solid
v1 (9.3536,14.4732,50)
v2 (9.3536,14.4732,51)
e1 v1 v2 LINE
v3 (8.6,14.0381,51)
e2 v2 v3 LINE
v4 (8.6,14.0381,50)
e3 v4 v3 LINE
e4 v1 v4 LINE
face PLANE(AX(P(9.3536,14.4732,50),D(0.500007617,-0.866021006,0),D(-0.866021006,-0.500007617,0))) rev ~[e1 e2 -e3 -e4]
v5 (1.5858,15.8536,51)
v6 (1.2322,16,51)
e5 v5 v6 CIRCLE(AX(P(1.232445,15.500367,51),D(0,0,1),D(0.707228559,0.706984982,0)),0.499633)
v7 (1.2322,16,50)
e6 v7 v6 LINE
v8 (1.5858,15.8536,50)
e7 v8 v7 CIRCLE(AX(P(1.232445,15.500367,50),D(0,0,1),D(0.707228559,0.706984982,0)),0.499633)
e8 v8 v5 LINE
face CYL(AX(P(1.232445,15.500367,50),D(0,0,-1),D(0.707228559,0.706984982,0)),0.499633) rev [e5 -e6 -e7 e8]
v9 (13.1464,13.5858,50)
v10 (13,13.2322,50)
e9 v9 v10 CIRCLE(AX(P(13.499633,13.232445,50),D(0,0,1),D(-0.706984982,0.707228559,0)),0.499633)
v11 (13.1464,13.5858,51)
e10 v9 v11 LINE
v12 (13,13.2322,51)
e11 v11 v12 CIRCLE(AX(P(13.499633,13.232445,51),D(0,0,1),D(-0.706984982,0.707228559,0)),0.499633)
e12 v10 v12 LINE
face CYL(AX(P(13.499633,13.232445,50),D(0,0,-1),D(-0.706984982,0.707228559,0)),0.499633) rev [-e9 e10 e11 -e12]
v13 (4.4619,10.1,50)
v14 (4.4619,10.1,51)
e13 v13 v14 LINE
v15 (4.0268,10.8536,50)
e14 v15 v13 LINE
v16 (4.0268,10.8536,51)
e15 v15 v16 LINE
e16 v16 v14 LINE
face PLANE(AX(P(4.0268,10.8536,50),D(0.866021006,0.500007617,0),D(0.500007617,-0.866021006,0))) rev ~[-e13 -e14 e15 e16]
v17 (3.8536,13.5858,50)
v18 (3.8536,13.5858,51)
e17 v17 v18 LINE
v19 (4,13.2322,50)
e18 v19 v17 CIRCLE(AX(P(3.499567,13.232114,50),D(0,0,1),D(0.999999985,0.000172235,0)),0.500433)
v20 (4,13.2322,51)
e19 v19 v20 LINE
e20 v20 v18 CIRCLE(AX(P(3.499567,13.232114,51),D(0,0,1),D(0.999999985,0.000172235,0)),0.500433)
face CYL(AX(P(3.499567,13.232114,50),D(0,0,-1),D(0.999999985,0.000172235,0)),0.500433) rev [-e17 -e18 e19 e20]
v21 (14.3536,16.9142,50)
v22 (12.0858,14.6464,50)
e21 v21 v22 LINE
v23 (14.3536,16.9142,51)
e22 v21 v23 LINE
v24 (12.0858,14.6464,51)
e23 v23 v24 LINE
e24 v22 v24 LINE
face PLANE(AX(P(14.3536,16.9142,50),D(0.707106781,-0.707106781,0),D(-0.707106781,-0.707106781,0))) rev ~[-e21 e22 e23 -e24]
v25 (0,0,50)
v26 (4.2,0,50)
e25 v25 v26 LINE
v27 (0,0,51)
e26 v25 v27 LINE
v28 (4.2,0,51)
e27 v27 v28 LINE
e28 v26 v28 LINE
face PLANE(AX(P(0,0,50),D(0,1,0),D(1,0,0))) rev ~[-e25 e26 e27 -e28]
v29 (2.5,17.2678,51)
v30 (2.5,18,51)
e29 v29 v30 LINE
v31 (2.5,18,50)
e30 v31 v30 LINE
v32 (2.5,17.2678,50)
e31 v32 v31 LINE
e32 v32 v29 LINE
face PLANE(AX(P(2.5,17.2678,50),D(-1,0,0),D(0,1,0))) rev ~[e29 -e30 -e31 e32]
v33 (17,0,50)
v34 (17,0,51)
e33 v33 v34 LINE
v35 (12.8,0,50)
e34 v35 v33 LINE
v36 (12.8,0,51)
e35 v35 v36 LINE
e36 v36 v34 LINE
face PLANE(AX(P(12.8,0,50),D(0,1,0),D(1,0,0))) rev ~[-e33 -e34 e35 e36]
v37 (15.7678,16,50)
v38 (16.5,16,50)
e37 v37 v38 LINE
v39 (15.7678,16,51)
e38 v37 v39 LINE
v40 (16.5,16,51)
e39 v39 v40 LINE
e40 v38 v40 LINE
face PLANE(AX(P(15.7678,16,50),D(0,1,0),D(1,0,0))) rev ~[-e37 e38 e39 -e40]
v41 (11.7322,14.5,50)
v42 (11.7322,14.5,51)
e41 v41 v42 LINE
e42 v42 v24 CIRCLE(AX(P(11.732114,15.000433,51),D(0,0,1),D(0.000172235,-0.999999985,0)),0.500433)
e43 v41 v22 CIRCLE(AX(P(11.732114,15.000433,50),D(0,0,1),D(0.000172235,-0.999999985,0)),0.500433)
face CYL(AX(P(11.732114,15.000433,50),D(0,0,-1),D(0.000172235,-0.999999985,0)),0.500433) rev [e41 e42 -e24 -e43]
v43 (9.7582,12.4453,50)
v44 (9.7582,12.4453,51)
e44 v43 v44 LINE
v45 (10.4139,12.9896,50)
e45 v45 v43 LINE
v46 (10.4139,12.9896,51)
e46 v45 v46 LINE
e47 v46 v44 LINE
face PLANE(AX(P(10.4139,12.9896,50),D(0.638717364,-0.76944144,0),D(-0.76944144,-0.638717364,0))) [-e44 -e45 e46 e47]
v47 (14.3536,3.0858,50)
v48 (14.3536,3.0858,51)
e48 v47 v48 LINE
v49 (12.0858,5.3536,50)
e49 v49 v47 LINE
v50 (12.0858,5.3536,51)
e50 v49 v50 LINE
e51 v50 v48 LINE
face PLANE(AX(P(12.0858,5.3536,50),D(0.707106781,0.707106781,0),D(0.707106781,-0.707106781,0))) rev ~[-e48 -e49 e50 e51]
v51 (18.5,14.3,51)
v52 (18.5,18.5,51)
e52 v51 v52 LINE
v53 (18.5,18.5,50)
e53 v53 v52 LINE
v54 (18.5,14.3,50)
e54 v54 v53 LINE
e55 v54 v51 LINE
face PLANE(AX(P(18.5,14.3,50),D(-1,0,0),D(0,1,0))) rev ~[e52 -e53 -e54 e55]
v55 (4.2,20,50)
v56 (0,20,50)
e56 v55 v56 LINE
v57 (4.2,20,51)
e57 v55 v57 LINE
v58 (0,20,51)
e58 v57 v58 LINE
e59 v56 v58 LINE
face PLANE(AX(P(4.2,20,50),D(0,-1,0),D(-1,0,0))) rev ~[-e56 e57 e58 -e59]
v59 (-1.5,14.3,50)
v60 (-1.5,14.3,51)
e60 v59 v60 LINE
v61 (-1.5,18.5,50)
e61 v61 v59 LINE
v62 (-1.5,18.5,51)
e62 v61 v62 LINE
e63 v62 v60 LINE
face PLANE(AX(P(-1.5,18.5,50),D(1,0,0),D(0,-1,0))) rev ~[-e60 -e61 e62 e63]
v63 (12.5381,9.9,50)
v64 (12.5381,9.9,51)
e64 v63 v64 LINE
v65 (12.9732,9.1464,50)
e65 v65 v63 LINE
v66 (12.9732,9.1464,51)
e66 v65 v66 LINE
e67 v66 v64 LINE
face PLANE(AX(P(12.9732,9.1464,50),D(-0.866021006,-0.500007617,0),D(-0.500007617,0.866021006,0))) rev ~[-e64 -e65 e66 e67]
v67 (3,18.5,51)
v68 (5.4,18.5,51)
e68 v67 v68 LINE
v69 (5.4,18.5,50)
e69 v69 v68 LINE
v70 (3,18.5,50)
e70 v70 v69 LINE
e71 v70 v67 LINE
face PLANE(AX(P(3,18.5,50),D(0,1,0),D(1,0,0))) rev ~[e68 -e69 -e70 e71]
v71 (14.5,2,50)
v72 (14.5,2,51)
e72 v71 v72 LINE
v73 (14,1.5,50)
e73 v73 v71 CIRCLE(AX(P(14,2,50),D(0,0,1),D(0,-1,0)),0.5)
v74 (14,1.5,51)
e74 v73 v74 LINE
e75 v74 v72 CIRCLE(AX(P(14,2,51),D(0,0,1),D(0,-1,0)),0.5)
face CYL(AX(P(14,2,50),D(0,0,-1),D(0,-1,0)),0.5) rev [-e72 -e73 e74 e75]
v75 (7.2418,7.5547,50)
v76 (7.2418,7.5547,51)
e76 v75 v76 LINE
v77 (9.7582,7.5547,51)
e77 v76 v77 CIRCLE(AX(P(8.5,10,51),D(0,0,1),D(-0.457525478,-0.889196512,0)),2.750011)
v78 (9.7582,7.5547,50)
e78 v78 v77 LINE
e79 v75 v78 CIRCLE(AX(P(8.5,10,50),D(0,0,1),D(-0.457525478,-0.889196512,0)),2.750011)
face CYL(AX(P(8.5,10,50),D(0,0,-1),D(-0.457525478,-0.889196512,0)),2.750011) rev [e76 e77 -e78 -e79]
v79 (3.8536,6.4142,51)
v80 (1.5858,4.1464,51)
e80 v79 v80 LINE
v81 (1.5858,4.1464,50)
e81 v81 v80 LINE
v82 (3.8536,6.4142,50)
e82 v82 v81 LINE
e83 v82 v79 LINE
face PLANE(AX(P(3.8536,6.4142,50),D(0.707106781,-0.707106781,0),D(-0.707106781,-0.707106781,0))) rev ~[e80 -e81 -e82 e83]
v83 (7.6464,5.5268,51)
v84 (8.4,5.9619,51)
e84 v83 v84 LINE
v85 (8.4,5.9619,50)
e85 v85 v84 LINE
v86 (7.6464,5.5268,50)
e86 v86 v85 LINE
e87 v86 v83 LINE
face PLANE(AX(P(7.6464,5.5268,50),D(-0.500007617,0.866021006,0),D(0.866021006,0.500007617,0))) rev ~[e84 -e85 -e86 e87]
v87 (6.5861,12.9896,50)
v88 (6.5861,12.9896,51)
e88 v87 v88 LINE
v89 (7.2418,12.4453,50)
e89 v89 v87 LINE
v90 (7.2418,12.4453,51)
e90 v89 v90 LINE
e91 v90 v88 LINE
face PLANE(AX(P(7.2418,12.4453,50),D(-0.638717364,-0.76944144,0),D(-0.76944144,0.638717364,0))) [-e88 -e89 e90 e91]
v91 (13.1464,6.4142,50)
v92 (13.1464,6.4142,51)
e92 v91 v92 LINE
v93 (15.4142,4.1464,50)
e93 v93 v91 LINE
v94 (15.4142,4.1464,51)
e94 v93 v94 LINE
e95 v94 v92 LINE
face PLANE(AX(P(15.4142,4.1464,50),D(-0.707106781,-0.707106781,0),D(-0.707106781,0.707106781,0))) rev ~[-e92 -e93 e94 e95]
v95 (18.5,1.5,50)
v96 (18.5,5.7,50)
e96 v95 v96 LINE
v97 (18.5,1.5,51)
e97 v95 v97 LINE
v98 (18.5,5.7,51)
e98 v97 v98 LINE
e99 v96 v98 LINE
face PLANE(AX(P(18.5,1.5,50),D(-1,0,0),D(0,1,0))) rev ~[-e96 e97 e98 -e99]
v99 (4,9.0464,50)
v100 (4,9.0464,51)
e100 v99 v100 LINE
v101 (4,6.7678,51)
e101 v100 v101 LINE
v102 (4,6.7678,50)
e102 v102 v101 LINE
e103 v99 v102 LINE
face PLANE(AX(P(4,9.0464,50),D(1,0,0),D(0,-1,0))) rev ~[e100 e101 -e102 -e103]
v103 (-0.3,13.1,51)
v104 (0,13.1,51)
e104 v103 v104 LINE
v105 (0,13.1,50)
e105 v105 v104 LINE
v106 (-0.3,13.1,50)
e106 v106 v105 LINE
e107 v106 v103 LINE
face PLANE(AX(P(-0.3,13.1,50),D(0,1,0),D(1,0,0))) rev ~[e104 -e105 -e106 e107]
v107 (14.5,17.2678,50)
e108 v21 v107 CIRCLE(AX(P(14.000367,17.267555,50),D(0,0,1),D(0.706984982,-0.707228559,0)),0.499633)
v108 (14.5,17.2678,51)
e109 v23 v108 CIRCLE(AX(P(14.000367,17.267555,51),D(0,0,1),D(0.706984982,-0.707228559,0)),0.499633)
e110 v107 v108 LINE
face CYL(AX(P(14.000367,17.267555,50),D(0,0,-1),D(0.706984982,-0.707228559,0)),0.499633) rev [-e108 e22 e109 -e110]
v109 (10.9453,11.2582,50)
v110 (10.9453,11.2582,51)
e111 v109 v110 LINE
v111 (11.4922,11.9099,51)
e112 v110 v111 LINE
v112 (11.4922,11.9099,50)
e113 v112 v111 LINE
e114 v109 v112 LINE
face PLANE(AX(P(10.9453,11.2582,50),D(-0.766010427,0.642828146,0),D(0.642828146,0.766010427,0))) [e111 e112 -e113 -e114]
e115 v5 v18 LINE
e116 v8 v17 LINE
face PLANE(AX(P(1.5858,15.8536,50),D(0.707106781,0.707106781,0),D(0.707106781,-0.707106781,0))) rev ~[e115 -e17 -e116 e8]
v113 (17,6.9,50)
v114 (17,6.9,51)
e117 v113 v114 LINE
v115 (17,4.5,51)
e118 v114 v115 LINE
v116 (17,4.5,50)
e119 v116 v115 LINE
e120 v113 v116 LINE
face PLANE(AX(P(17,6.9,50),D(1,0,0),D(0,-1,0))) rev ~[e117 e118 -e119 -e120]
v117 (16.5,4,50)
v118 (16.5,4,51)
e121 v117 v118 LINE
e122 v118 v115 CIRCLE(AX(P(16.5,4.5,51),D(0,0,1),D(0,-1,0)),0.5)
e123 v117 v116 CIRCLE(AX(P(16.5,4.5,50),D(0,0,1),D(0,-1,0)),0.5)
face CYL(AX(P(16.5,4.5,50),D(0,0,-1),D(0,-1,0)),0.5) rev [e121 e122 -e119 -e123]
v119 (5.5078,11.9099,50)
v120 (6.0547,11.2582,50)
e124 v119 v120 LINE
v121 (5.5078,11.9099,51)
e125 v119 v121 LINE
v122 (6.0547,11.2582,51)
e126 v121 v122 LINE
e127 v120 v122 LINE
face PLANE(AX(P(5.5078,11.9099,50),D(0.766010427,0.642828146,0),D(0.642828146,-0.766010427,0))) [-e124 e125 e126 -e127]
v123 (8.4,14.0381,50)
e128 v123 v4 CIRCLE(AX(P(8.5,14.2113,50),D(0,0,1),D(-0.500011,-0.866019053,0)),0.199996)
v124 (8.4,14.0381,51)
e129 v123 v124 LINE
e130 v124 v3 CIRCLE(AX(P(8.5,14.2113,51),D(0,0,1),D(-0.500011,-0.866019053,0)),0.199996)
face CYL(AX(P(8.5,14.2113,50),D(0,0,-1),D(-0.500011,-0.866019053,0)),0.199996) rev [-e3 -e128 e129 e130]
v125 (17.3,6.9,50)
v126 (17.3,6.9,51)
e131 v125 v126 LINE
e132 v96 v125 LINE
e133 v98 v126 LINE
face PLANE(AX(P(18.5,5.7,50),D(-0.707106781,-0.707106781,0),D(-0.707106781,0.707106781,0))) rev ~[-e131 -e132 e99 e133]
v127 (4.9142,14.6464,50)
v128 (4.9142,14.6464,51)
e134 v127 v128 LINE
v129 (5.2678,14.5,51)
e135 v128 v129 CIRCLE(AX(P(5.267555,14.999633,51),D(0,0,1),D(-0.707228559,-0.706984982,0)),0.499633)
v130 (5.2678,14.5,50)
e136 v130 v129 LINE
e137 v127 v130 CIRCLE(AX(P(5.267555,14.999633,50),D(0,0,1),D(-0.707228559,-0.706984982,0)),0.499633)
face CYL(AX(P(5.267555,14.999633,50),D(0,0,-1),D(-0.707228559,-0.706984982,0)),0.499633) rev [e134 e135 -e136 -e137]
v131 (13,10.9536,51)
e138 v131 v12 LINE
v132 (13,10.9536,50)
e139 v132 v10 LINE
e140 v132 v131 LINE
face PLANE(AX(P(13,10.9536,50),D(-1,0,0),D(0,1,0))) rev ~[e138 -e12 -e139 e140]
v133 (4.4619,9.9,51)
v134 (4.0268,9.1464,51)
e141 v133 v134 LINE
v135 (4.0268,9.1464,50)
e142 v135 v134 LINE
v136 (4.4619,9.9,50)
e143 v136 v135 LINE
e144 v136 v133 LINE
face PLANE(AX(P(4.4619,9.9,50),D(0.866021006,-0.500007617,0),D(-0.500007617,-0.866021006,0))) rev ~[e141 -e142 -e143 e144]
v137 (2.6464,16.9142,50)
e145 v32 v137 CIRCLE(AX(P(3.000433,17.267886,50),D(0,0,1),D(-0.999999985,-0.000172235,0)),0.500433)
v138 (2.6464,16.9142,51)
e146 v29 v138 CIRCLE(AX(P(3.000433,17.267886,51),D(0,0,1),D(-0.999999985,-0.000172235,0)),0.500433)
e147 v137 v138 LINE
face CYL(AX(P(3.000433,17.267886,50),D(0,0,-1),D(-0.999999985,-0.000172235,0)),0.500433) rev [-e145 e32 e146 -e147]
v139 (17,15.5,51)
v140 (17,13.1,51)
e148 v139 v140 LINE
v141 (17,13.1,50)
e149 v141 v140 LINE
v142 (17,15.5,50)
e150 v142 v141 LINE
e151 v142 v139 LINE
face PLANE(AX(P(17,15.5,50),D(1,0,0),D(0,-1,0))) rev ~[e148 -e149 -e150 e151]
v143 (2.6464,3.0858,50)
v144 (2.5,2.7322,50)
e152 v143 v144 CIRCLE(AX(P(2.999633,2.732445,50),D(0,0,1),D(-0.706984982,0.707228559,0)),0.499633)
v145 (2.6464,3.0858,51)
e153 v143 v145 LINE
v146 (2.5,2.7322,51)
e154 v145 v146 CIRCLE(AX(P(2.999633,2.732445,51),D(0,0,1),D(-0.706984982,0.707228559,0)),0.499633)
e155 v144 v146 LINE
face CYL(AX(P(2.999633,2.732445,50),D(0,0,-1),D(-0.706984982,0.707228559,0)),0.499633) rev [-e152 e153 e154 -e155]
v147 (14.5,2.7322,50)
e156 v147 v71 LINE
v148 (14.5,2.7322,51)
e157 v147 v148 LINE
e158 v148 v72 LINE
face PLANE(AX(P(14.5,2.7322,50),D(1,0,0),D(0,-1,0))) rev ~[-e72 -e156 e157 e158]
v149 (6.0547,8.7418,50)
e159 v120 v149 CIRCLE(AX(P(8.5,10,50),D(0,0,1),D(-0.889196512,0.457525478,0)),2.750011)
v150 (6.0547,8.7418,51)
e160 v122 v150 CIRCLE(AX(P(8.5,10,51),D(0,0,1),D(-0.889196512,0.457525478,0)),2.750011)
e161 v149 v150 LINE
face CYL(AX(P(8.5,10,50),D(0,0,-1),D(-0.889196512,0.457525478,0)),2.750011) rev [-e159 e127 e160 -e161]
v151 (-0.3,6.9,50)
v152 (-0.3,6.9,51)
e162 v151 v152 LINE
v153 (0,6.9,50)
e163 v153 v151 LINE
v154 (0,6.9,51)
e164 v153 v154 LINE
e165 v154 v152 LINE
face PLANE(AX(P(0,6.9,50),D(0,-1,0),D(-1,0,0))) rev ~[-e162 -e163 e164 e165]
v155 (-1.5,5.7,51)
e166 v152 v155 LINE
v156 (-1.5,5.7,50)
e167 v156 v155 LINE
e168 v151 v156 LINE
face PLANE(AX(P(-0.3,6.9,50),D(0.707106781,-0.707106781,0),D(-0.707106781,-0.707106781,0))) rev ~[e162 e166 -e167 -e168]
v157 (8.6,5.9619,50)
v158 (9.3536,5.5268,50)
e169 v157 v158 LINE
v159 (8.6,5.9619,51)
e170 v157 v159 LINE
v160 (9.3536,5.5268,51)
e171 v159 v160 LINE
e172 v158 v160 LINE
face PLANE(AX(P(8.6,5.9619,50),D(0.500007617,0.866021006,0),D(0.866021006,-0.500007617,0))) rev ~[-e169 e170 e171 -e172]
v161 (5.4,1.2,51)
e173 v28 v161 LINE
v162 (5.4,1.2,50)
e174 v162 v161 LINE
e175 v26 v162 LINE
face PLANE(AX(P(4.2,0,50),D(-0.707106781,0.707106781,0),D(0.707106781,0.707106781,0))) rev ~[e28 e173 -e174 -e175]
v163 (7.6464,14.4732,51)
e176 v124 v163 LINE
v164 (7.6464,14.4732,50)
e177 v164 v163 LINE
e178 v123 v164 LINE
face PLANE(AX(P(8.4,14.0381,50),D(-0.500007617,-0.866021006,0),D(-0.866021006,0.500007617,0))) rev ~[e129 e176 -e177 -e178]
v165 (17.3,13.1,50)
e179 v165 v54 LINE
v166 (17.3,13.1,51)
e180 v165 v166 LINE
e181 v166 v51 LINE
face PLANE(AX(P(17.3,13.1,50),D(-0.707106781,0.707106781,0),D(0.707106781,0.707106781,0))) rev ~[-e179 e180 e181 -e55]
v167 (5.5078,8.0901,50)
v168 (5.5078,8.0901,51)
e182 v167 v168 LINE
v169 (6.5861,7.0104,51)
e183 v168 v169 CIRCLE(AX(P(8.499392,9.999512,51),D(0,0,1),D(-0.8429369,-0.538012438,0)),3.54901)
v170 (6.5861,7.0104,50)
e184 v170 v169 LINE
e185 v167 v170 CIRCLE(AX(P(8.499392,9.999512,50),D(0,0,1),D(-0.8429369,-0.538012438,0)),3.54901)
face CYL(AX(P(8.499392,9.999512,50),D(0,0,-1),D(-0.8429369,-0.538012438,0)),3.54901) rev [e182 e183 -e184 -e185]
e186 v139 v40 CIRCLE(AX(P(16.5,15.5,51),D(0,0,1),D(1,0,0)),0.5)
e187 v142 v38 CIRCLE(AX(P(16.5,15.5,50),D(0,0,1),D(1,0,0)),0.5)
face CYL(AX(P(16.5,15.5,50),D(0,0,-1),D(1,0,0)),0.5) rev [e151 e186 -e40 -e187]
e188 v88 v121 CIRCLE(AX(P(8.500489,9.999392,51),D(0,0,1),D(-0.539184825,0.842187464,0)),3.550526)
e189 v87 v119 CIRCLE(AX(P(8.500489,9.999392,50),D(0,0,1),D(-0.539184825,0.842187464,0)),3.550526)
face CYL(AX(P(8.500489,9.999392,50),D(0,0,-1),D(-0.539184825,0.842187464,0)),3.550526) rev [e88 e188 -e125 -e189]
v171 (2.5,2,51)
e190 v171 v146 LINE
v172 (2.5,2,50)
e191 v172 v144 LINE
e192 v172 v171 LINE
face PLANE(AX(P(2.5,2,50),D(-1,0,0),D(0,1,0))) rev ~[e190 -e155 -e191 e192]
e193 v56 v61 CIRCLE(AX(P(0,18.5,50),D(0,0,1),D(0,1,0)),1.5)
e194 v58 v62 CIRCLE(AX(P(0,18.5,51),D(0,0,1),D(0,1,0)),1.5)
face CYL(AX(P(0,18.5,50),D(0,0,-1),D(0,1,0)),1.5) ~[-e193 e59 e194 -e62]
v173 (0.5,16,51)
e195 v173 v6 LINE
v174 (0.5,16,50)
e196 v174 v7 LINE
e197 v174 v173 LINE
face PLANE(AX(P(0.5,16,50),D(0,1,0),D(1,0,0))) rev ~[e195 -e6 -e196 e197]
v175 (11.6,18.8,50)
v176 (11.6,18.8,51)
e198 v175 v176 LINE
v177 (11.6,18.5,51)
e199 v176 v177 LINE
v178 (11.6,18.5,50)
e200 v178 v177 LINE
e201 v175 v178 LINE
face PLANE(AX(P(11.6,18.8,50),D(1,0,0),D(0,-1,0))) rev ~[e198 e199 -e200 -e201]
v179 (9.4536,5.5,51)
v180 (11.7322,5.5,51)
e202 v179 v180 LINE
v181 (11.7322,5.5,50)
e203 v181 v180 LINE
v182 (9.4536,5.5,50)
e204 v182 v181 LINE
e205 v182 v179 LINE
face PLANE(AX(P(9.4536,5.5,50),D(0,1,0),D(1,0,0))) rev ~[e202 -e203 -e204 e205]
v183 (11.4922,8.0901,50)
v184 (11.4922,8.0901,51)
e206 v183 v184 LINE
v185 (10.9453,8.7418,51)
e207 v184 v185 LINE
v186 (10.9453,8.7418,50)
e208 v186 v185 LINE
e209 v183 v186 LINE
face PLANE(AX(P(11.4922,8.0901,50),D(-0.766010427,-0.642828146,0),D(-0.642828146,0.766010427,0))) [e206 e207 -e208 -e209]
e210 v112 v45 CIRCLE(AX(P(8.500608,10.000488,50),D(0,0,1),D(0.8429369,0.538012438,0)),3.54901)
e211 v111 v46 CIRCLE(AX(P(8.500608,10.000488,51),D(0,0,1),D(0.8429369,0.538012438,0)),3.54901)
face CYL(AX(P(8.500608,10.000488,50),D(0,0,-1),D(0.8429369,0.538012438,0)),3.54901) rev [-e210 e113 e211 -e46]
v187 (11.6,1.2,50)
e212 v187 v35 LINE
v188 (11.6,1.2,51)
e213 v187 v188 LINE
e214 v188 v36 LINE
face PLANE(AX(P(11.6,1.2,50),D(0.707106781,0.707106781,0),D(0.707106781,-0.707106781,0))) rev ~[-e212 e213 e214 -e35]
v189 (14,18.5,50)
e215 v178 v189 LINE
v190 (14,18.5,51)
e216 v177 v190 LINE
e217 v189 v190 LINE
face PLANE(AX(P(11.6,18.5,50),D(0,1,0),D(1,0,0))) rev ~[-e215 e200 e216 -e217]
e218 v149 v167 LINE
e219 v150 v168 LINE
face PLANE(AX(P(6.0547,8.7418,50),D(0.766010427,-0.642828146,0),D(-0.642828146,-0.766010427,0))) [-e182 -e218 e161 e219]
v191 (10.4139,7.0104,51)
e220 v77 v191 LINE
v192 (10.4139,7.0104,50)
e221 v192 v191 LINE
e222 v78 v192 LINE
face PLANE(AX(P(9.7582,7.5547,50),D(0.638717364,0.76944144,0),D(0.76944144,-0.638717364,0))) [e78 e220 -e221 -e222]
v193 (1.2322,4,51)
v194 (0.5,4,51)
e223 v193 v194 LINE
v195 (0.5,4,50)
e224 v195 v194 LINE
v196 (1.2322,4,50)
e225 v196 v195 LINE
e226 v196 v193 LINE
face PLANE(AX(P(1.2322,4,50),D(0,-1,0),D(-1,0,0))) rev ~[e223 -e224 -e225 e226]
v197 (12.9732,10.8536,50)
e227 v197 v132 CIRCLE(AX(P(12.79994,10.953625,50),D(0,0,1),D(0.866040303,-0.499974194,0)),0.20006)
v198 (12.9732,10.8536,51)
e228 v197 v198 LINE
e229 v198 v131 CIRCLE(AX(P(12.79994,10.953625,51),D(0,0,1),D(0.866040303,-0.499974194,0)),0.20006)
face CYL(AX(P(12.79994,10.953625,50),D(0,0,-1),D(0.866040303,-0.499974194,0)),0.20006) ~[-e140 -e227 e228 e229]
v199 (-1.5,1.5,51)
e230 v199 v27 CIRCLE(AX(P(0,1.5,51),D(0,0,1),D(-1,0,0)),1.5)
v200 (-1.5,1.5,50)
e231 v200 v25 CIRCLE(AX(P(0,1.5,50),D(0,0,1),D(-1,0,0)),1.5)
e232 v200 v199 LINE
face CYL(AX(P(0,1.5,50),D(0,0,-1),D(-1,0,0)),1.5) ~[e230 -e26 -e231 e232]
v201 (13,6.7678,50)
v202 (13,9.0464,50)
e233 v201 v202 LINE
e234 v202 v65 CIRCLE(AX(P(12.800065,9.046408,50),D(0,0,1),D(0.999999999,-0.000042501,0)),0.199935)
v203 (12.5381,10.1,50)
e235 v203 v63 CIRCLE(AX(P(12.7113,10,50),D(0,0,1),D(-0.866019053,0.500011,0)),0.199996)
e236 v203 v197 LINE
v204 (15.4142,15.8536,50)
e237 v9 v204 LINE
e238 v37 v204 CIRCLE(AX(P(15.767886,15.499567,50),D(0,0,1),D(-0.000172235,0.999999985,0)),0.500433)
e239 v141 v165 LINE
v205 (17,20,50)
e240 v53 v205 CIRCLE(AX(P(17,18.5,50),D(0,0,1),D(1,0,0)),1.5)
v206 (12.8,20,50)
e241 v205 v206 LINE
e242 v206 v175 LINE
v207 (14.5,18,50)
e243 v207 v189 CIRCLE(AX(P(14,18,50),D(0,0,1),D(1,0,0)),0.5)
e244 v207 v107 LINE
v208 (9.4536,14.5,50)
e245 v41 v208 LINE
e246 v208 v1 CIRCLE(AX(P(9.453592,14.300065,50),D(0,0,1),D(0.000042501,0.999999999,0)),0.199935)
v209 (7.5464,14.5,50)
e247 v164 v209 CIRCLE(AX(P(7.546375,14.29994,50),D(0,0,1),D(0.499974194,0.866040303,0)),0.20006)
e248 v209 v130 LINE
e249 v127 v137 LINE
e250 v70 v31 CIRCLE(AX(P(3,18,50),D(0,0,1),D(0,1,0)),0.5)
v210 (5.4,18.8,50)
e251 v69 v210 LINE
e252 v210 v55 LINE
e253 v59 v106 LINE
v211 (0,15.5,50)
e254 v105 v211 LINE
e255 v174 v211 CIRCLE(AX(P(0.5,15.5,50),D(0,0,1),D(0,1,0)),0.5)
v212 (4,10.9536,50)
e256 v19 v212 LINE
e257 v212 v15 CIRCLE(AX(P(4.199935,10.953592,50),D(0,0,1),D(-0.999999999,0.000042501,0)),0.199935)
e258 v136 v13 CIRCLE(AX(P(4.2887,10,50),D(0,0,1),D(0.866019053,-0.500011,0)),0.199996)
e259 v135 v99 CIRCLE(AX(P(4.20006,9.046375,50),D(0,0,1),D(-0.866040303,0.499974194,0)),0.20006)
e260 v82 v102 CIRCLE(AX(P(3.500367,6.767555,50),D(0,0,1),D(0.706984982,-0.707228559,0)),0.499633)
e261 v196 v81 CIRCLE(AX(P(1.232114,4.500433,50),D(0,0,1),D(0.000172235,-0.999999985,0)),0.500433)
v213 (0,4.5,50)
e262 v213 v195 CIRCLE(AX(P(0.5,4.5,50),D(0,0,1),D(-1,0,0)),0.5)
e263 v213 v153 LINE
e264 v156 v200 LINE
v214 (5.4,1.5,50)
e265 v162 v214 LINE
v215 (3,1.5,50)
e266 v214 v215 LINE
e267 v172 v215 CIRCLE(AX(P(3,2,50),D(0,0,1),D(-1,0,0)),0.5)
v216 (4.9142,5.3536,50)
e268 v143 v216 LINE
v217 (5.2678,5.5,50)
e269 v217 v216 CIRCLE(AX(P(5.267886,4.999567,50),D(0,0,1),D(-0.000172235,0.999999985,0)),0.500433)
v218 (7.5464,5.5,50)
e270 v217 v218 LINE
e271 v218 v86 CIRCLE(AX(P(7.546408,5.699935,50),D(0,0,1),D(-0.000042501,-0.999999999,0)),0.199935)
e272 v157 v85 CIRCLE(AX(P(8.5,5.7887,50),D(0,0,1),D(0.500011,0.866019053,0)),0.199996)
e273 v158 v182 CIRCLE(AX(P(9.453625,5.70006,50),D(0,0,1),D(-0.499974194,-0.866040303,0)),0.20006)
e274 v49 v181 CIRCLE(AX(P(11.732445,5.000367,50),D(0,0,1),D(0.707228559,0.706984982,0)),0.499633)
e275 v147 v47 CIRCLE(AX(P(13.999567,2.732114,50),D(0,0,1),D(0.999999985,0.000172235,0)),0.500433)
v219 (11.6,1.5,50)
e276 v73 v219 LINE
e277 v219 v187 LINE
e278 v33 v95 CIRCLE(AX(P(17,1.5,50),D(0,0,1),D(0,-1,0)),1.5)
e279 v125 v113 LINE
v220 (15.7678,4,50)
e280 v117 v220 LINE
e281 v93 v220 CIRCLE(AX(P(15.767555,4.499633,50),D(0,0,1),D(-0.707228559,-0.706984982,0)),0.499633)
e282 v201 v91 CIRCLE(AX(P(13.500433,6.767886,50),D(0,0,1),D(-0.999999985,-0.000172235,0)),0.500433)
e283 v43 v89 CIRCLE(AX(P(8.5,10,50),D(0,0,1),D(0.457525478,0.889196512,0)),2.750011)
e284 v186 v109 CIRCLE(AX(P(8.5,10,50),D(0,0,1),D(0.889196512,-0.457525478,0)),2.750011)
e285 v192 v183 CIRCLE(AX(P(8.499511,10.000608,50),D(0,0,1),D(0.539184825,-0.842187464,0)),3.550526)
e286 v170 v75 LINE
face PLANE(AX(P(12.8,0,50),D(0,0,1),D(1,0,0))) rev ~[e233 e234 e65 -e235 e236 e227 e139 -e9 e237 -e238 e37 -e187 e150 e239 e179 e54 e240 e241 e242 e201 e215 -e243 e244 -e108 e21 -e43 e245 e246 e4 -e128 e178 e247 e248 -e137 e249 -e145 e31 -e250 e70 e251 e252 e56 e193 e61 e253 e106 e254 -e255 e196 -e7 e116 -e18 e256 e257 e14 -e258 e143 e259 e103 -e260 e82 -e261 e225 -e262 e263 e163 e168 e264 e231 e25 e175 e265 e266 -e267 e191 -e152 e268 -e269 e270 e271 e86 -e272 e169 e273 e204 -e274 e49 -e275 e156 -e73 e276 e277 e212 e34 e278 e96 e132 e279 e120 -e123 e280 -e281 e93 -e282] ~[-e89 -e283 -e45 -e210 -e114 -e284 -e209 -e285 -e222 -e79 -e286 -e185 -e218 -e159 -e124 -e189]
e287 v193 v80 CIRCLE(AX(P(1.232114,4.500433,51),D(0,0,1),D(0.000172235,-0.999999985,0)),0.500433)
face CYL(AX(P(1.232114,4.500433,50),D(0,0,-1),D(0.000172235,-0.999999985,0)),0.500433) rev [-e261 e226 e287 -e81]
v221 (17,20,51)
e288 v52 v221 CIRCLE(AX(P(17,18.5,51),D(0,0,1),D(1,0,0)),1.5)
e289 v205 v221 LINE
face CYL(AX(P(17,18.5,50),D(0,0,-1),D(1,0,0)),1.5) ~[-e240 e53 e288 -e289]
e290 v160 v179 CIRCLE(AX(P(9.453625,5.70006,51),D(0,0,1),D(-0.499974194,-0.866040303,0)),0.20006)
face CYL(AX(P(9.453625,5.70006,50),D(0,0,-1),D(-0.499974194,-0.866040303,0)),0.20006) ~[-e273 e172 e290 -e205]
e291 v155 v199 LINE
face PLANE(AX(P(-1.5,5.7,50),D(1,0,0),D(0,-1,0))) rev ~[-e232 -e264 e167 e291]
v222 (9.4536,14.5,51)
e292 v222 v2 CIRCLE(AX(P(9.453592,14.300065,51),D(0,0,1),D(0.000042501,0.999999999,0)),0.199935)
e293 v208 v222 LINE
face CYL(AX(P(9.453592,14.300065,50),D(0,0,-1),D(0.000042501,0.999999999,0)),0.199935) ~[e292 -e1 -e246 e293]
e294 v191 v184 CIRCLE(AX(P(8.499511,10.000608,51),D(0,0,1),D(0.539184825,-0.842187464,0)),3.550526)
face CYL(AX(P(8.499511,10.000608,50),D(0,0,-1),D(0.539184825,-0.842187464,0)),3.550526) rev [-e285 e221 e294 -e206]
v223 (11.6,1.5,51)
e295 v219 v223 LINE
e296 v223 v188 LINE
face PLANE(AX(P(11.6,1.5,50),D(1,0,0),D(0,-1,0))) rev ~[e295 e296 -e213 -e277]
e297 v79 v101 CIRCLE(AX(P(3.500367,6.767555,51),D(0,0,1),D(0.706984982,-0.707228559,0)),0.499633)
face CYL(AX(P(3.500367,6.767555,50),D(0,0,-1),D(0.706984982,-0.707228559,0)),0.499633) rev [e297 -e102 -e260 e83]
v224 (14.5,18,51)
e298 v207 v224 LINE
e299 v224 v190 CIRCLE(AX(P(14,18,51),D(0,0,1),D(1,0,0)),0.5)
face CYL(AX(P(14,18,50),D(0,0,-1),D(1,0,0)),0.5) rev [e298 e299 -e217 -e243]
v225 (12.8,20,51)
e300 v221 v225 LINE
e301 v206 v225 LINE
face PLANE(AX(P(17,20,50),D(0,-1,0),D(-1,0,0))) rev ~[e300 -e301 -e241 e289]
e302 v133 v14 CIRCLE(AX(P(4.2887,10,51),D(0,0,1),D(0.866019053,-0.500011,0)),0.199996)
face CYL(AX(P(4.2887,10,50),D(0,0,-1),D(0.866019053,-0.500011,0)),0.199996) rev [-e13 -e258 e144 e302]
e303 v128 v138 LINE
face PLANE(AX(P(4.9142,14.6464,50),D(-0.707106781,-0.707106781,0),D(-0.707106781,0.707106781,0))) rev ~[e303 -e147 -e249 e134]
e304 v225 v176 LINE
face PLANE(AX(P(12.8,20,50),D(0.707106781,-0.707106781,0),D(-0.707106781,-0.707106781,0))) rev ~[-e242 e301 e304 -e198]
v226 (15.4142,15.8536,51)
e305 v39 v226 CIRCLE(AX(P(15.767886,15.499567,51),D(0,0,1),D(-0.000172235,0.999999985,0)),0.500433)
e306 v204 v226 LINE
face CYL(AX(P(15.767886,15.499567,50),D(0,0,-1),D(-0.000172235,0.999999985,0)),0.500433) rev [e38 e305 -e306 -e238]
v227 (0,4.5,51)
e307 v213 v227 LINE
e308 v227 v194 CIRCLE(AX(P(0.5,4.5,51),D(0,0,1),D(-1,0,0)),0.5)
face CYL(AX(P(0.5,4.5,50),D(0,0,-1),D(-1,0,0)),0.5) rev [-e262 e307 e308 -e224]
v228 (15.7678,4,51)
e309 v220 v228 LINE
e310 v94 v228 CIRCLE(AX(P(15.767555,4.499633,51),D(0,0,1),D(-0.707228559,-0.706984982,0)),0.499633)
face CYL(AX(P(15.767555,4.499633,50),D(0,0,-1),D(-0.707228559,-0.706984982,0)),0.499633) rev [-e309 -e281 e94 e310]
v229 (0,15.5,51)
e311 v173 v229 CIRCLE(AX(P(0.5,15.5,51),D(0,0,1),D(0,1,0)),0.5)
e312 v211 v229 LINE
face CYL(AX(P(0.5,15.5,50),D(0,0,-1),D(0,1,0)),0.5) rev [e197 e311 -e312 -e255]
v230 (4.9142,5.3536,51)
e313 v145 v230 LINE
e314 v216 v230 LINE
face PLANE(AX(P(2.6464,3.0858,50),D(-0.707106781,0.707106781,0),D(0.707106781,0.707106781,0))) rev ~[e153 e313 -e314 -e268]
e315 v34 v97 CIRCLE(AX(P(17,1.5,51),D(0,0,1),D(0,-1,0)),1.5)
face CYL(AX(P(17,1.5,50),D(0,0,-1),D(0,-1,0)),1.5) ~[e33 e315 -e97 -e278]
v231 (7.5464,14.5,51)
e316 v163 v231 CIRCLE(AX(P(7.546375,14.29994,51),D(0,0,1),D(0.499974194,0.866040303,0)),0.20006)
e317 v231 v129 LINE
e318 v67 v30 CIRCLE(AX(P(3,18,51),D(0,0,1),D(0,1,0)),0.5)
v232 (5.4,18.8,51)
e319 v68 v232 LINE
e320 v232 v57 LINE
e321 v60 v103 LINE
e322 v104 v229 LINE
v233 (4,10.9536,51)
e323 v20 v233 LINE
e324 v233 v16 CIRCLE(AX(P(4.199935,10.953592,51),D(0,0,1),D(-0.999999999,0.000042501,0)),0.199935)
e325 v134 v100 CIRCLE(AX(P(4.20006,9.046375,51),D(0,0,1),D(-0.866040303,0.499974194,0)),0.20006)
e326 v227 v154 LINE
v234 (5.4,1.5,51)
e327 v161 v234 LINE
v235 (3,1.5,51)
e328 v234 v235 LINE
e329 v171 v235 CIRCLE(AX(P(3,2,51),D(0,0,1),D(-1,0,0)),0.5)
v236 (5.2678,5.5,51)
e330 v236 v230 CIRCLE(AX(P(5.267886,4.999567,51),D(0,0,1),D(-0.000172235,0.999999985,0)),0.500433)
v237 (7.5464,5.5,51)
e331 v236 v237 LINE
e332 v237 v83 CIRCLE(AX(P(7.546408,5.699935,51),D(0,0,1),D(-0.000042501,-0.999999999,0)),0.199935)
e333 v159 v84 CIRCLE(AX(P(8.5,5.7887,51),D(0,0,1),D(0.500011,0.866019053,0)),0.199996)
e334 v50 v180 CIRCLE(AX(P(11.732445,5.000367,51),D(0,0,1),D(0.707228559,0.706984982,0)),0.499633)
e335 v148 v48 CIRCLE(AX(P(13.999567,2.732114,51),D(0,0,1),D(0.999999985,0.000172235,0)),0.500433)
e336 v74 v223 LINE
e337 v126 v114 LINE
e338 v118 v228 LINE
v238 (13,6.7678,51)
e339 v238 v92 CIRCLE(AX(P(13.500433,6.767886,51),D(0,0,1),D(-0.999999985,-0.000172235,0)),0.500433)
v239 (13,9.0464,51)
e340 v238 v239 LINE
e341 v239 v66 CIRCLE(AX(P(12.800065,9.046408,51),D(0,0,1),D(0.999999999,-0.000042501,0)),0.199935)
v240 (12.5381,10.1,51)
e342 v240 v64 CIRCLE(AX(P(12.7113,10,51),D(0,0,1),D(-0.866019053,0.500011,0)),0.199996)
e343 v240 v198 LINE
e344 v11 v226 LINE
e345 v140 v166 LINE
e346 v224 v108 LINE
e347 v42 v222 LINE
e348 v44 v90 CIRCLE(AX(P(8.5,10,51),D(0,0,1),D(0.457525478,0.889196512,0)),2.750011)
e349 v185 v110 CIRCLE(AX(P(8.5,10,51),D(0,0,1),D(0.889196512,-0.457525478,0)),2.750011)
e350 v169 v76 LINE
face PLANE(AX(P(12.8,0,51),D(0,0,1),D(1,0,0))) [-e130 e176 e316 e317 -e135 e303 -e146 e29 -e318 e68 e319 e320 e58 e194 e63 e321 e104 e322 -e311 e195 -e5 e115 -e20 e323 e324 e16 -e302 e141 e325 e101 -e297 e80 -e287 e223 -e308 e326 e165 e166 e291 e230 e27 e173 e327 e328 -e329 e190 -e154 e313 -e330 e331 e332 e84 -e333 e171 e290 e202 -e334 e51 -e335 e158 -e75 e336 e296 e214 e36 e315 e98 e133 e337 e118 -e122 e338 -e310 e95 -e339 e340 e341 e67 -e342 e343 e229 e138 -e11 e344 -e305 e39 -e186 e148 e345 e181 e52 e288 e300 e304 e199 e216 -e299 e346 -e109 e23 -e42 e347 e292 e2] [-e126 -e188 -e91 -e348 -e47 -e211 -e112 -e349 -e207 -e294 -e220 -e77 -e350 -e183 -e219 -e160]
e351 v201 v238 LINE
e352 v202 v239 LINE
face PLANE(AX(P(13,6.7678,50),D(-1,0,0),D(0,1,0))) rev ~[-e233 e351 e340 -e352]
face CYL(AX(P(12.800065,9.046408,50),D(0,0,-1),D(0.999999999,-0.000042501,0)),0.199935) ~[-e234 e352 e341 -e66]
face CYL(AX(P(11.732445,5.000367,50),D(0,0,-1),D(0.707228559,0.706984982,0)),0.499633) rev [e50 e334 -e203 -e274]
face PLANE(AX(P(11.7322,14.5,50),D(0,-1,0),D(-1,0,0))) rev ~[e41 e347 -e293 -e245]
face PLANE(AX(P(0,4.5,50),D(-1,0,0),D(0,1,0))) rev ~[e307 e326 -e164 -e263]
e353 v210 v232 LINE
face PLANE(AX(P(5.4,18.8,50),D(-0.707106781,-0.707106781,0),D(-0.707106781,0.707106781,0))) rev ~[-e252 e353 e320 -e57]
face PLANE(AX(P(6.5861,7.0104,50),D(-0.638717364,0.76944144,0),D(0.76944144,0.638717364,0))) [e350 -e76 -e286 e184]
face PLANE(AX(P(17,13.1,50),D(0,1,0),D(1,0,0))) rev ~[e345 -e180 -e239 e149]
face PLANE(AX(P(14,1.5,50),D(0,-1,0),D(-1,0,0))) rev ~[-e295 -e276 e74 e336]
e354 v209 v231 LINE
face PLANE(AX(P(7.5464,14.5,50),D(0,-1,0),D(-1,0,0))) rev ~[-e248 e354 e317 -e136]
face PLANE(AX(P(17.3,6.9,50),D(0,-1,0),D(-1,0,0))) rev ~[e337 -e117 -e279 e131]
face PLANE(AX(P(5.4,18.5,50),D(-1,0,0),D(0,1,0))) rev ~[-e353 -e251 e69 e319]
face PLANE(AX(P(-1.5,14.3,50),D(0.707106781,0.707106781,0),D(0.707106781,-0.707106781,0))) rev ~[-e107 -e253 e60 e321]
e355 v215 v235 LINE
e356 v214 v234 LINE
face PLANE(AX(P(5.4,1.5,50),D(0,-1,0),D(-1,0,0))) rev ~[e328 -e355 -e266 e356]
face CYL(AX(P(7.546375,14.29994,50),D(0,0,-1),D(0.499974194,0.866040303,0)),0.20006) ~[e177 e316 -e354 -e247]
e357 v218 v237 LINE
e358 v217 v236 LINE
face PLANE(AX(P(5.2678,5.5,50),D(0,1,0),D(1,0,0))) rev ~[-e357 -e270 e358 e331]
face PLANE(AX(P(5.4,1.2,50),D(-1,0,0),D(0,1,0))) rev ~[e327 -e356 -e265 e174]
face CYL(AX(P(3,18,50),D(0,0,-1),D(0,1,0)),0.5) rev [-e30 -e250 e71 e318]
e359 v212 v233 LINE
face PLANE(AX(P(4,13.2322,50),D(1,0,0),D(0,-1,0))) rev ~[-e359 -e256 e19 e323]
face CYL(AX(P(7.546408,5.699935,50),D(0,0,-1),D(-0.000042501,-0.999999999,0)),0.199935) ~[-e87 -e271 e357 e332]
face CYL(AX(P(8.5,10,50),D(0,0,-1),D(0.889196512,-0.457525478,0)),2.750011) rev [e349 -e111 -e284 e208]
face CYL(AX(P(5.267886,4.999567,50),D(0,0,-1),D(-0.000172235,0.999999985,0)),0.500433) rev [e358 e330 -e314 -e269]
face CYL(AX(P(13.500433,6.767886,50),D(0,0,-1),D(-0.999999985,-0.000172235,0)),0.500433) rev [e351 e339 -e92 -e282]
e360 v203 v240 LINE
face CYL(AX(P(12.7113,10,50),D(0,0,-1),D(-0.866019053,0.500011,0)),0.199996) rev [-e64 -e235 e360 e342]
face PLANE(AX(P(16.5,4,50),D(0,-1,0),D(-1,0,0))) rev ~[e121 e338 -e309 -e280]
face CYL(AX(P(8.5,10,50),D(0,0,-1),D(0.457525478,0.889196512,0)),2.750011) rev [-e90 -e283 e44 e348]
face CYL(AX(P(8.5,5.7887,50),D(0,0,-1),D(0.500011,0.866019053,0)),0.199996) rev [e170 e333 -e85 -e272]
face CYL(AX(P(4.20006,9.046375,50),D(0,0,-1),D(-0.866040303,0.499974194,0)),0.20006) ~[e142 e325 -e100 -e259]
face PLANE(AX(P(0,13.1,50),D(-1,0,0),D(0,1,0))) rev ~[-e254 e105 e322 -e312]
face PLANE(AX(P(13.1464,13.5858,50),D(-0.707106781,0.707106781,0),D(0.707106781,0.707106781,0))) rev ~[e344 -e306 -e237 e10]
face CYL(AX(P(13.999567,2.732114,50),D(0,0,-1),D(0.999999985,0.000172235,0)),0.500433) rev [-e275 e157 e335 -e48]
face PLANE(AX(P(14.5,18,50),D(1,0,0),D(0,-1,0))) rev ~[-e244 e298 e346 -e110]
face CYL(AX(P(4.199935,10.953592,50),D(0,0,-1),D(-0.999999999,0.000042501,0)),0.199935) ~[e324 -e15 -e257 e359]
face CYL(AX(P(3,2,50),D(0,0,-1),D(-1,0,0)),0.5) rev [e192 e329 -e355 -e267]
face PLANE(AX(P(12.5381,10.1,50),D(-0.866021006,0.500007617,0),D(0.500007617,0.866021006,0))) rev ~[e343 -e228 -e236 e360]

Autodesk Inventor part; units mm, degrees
ref_plane "YZ Plane" through (0, 0, 0) normal (1, 0, 0) x (0, 1, 0)
ref_plane "Work Plane5" through (12.8, 0, 50) normal (0, 0, 1) x (1, 0, 0)
sketch "Sketch1" plane through (12.8, 0, 50) normal (0, 0, 1) x (1, 0, 0)
  arc A0 (1.7, 2.7322) -> (1.5536, 3.0858) centre (1.2, 2.7322) ccw
  line L0 (1.7, 2.7322) -> (1.7, 2)
  arc A1 (1.2, 1.5) -> (1.7, 2) centre (1.2, 2) ccw
  line L1 (1.2, 1.5) -> (-1.2, 1.5)
  line L2 (-1.2, 1.5) -> (-1.2, 1.2)
  line L3 (-1.2, 1.2) -> (0, 0)
  line L4 (0, 0) -> (4.2, 0)
  arc A2 (4.2, 0) -> (5.7, 1.5) centre (4.2, 1.5) ccw
  line L5 (5.7, 1.5) -> (5.7, 5.7)
  line L6 (5.7, 5.7) -> (4.5, 6.9)
  line L7 (4.5, 6.9) -> (4.2, 6.9)
  line L8 (4.2, 6.9) -> (4.2, 4.5)
  arc A3 (3.7, 4) -> (4.2, 4.5) centre (3.7, 4.5) ccw
  line L9 (3.7, 4) -> (2.9678, 4)
  arc A4 (2.6142, 4.1464) -> (2.9678, 4) centre (2.9678, 4.5) ccw
  line L10 (2.6142, 4.1464) -> (0.3464, 6.4142)
  arc A5 (0.2, 6.7678) -> (0.3464, 6.4142) centre (0.7, 6.7678) ccw
  line L11 (0.2, 6.7678) -> (0.2, 9.0464)
  arc A6 (0.2, 9.0464) -> (0.1732, 9.1464) centre (0, 9.0464) ccw
  line L12 (0.1732, 9.1464) -> (-0.2619, 9.9)
  arc A7 (-0.2619, 10.1) -> (-0.2619, 9.9) centre (-0.0887, 10) ccw
  line L13 (-0.2619, 10.1) -> (0.1732, 10.8536)
  arc A8 (0.1732, 10.8536) -> (0.2, 10.9536) centre (0, 10.9536) ccw
  line L14 (0.2, 10.9536) -> (0.2, 13.2322)
  arc A9 (0.3464, 13.5858) -> (0.2, 13.2322) centre (0.7, 13.2322) ccw
  line L15 (0.3464, 13.5858) -> (2.6142, 15.8536)
  arc A10 (2.9678, 16) -> (2.6142, 15.8536) centre (2.9678, 15.5) ccw
  line L16 (2.9678, 16) -> (3.7, 16)
  arc A11 (4.2, 15.5) -> (3.7, 16) centre (3.7, 15.5) ccw
  line L17 (4.2, 15.5) -> (4.2, 13.1)
  line L18 (4.2, 13.1) -> (4.5, 13.1)
  line L19 (4.5, 13.1) -> (5.7, 14.3)
  line L20 (5.7, 14.3) -> (5.7, 18.5)
  arc A12 (5.7, 18.5) -> (4.2, 20) centre (4.2, 18.5) ccw
  line L21 (4.2, 20) -> (0, 20)
  line L22 (0, 20) -> (-1.2, 18.8)
  line L23 (-1.2, 18.8) -> (-1.2, 18.5)
  line L24 (-1.2, 18.5) -> (1.2, 18.5)
  arc A13 (1.7, 18) -> (1.2, 18.5) centre (1.2, 18) ccw
  line L25 (1.7, 18) -> (1.7, 17.2678)
  arc A14 (1.5536, 16.9142) -> (1.7, 17.2678) centre (1.2, 17.2678) ccw
  line L26 (1.5536, 16.9142) -> (-0.7142, 14.6464)
  arc A15 (-1.0678, 14.5) -> (-0.7142, 14.6464) centre (-1.0678, 15) ccw
  line L27 (-1.0678, 14.5) -> (-3.3464, 14.5)
  arc A16 (-3.3464, 14.5) -> (-3.4464, 14.4732) centre (-3.3464, 14.3) ccw
  line L28 (-3.4464, 14.4732) -> (-4.2, 14.0381)
  arc A17 (-4.4, 14.0381) -> (-4.2, 14.0381) centre (-4.3, 14.2113) ccw
  line L29 (-4.4, 14.0381) -> (-5.1536, 14.4732)
  arc A18 (-5.1536, 14.4732) -> (-5.2536, 14.5) centre (-5.2536, 14.3) ccw
  line L30 (-5.2536, 14.5) -> (-7.5322, 14.5)
  arc A19 (-7.8858, 14.6464) -> (-7.5322, 14.5) centre (-7.5322, 15) ccw
  line L31 (-7.8858, 14.6464) -> (-10.1536, 16.9142)
  arc A20 (-10.3, 17.2678) -> (-10.1536, 16.9142) centre (-9.8, 17.2678) ccw
  line L32 (-10.3, 17.2678) -> (-10.3, 18)
  arc A21 (-9.8, 18.5) -> (-10.3, 18) centre (-9.8, 18) ccw
  line L33 (-9.8, 18.5) -> (-7.4, 18.5)
  line L34 (-7.4, 18.5) -> (-7.4, 18.8)
  line L35 (-7.4, 18.8) -> (-8.6, 20)
  line L36 (-8.6, 20) -> (-12.8, 20)
  arc A22 (-12.8, 20) -> (-14.3, 18.5) centre (-12.8, 18.5) ccw
  line L37 (-14.3, 18.5) -> (-14.3, 14.3)
  line L38 (-14.3, 14.3) -> (-13.1, 13.1)
  line L39 (-13.1, 13.1) -> (-12.8, 13.1)
  line L40 (-12.8, 13.1) -> (-12.8, 15.5)
  arc A23 (-12.3, 16) -> (-12.8, 15.5) centre (-12.3, 15.5) ccw
  line L41 (-12.3, 16) -> (-11.5678, 16)
  arc A24 (-11.2142, 15.8536) -> (-11.5678, 16) centre (-11.5678, 15.5) ccw
  line L42 (-11.2142, 15.8536) -> (-8.9464, 13.5858)
  arc A25 (-8.8, 13.2322) -> (-8.9464, 13.5858) centre (-9.3, 13.2322) ccw
  line L43 (-8.8, 13.2322) -> (-8.8, 10.9536)
  arc A26 (-8.8, 10.9536) -> (-8.7732, 10.8536) centre (-8.6, 10.9536) ccw
  line L44 (-8.7732, 10.8536) -> (-8.3381, 10.1)
  arc A27 (-8.3381, 9.9) -> (-8.3381, 10.1) centre (-8.5113, 10) ccw
  line L45 (-8.3381, 9.9) -> (-8.7732, 9.1464)
  arc A28 (-8.7732, 9.1464) -> (-8.8, 9.0464) centre (-8.6, 9.0464) ccw
  line L46 (-8.8, 9.0464) -> (-8.8, 6.7678)
  arc A29 (-8.9464, 6.4142) -> (-8.8, 6.7678) centre (-9.3, 6.7678) ccw
  line L47 (-8.9464, 6.4142) -> (-11.2142, 4.1464)
  arc A30 (-11.5678, 4) -> (-11.2142, 4.1464) centre (-11.5678, 4.5) ccw
  line L48 (-11.5678, 4) -> (-12.3, 4)
  arc A31 (-12.8, 4.5) -> (-12.3, 4) centre (-12.3, 4.5) ccw
  line L49 (-12.8, 4.5) -> (-12.8, 6.9)
  line L50 (-12.8, 6.9) -> (-13.1, 6.9)
  line L51 (-13.1, 6.9) -> (-14.3, 5.7)
  line L52 (-14.3, 5.7) -> (-14.3, 1.5)
  arc A32 (-14.3, 1.5) -> (-12.8, 0) centre (-12.8, 1.5) ccw
  line L53 (-12.8, 0) -> (-8.6, 0)
  line L54 (-8.6, 0) -> (-7.4, 1.2)
  line L55 (-7.4, 1.2) -> (-7.4, 1.5)
  line L56 (-7.4, 1.5) -> (-9.8, 1.5)
  arc A33 (-10.3, 2) -> (-9.8, 1.5) centre (-9.8, 2) ccw
  line L57 (-10.3, 2) -> (-10.3, 2.7322)
  arc A34 (-10.1536, 3.0858) -> (-10.3, 2.7322) centre (-9.8, 2.7322) ccw
  line L58 (-10.1536, 3.0858) -> (-7.8858, 5.3536)
  arc A35 (-7.5322, 5.5) -> (-7.8858, 5.3536) centre (-7.5322, 5) ccw
  line L59 (-7.5322, 5.5) -> (-5.2536, 5.5)
  arc A36 (-5.2536, 5.5) -> (-5.1536, 5.5268) centre (-5.2536, 5.7) ccw
  line L60 (-5.1536, 5.5268) -> (-4.4, 5.9619)
  arc A37 (-4.2, 5.9619) -> (-4.4, 5.9619) centre (-4.3, 5.7887) ccw
  line L61 (-4.2, 5.9619) -> (-3.4464, 5.5268)
  arc A38 (-3.4464, 5.5268) -> (-3.3464, 5.5) centre (-3.3464, 5.7) ccw
  line L62 (-3.3464, 5.5) -> (-1.0678, 5.5)
  arc A39 (-0.7142, 5.3536) -> (-1.0678, 5.5) centre (-1.0678, 5) ccw
  line L63 (-0.7142, 5.3536) -> (1.5536, 3.0858)
  line L64 (-6.7453, 8.7418) -> (-7.2922, 8.0901)
  arc A40 (-6.7453, 11.2582) -> (-6.7453, 8.7418) centre (-4.3, 10) ccw
  line L65 (-7.2922, 11.9099) -> (-6.7453, 11.2582)
  arc A41 (-6.2139, 12.9896) -> (-7.2922, 11.9099) centre (-4.3, 10) ccw
  line L66 (-5.5582, 12.4453) -> (-6.2139, 12.9896)
  arc A42 (-3.0418, 12.4453) -> (-5.5582, 12.4453) centre (-4.3, 10) ccw
  line L67 (-2.3861, 12.9896) -> (-3.0418, 12.4453)
  arc A43 (-1.3078, 11.9099) -> (-2.3861, 12.9896) centre (-4.3, 10) ccw
  line L68 (-1.8547, 11.2582) -> (-1.3078, 11.9099)
  arc A44 (-1.8547, 8.7418) -> (-1.8547, 11.2582) centre (-4.3, 10) ccw
  line L69 (-1.3078, 8.0901) -> (-1.8547, 8.7418)
  arc A45 (-2.3861, 7.0104) -> (-1.3078, 8.0901) centre (-4.3, 10) ccw
  line L70 (-3.0418, 7.5547) -> (-2.3861, 7.0104)
  arc A46 (-5.5582, 7.5547) -> (-3.0418, 7.5547) centre (-4.3, 10) ccw
  line L71 (-6.2139, 7.0104) -> (-5.5582, 7.5547)
  arc A47 (-7.2922, 8.0901) -> (-6.2139, 7.0104) centre (-4.3, 10) ccw
ref_plane "Start Plane" through (12.8, 0, 50) normal (0, 0, 1) x (1, 0, 0)
ref_plane "End Plane" through (12.8, 0, 51) normal (0, 0, 1) x (1, 0, 0)
extrude "Body" add sketch "Sketch1" along normal up to surface (1 mm away) from surface at 0
sketch "Sketch8" plane through (12.8, 0, 50) normal (0, 0, 1) x (1, 0, 0)
  line L0 (0, 0) -> (10, 0)
ref_plane "Work Plane10" through (12.8, 0, 50) normal (0, -1, 0) x (1, 0, 0)
sketch "Sketch9" plane through (12.8, 0, 50) normal (0, -1, 0) x (1, 0, 0)
  line L0 (-19.16, 0) -> (14.86, 0)
  line L1 (-19.16, 1) -> (14.86, 1)
  dimension "d16" = 1
equation "\"LENGTH\" = 1"
equation "\"G_OFFSET_START\" = 0"
equation "\"G_OFFSET_END\" = 0"
equation "\"G_L\" = d16"
equation "\"G_OFFSET_START1\" = 0"
equation "\"G_OFFSET_END1\" = 0"
equation "\"d12\" = LENGTH + G_OFFSET_END1"
properties part number "2020 V-slot 100mm"
